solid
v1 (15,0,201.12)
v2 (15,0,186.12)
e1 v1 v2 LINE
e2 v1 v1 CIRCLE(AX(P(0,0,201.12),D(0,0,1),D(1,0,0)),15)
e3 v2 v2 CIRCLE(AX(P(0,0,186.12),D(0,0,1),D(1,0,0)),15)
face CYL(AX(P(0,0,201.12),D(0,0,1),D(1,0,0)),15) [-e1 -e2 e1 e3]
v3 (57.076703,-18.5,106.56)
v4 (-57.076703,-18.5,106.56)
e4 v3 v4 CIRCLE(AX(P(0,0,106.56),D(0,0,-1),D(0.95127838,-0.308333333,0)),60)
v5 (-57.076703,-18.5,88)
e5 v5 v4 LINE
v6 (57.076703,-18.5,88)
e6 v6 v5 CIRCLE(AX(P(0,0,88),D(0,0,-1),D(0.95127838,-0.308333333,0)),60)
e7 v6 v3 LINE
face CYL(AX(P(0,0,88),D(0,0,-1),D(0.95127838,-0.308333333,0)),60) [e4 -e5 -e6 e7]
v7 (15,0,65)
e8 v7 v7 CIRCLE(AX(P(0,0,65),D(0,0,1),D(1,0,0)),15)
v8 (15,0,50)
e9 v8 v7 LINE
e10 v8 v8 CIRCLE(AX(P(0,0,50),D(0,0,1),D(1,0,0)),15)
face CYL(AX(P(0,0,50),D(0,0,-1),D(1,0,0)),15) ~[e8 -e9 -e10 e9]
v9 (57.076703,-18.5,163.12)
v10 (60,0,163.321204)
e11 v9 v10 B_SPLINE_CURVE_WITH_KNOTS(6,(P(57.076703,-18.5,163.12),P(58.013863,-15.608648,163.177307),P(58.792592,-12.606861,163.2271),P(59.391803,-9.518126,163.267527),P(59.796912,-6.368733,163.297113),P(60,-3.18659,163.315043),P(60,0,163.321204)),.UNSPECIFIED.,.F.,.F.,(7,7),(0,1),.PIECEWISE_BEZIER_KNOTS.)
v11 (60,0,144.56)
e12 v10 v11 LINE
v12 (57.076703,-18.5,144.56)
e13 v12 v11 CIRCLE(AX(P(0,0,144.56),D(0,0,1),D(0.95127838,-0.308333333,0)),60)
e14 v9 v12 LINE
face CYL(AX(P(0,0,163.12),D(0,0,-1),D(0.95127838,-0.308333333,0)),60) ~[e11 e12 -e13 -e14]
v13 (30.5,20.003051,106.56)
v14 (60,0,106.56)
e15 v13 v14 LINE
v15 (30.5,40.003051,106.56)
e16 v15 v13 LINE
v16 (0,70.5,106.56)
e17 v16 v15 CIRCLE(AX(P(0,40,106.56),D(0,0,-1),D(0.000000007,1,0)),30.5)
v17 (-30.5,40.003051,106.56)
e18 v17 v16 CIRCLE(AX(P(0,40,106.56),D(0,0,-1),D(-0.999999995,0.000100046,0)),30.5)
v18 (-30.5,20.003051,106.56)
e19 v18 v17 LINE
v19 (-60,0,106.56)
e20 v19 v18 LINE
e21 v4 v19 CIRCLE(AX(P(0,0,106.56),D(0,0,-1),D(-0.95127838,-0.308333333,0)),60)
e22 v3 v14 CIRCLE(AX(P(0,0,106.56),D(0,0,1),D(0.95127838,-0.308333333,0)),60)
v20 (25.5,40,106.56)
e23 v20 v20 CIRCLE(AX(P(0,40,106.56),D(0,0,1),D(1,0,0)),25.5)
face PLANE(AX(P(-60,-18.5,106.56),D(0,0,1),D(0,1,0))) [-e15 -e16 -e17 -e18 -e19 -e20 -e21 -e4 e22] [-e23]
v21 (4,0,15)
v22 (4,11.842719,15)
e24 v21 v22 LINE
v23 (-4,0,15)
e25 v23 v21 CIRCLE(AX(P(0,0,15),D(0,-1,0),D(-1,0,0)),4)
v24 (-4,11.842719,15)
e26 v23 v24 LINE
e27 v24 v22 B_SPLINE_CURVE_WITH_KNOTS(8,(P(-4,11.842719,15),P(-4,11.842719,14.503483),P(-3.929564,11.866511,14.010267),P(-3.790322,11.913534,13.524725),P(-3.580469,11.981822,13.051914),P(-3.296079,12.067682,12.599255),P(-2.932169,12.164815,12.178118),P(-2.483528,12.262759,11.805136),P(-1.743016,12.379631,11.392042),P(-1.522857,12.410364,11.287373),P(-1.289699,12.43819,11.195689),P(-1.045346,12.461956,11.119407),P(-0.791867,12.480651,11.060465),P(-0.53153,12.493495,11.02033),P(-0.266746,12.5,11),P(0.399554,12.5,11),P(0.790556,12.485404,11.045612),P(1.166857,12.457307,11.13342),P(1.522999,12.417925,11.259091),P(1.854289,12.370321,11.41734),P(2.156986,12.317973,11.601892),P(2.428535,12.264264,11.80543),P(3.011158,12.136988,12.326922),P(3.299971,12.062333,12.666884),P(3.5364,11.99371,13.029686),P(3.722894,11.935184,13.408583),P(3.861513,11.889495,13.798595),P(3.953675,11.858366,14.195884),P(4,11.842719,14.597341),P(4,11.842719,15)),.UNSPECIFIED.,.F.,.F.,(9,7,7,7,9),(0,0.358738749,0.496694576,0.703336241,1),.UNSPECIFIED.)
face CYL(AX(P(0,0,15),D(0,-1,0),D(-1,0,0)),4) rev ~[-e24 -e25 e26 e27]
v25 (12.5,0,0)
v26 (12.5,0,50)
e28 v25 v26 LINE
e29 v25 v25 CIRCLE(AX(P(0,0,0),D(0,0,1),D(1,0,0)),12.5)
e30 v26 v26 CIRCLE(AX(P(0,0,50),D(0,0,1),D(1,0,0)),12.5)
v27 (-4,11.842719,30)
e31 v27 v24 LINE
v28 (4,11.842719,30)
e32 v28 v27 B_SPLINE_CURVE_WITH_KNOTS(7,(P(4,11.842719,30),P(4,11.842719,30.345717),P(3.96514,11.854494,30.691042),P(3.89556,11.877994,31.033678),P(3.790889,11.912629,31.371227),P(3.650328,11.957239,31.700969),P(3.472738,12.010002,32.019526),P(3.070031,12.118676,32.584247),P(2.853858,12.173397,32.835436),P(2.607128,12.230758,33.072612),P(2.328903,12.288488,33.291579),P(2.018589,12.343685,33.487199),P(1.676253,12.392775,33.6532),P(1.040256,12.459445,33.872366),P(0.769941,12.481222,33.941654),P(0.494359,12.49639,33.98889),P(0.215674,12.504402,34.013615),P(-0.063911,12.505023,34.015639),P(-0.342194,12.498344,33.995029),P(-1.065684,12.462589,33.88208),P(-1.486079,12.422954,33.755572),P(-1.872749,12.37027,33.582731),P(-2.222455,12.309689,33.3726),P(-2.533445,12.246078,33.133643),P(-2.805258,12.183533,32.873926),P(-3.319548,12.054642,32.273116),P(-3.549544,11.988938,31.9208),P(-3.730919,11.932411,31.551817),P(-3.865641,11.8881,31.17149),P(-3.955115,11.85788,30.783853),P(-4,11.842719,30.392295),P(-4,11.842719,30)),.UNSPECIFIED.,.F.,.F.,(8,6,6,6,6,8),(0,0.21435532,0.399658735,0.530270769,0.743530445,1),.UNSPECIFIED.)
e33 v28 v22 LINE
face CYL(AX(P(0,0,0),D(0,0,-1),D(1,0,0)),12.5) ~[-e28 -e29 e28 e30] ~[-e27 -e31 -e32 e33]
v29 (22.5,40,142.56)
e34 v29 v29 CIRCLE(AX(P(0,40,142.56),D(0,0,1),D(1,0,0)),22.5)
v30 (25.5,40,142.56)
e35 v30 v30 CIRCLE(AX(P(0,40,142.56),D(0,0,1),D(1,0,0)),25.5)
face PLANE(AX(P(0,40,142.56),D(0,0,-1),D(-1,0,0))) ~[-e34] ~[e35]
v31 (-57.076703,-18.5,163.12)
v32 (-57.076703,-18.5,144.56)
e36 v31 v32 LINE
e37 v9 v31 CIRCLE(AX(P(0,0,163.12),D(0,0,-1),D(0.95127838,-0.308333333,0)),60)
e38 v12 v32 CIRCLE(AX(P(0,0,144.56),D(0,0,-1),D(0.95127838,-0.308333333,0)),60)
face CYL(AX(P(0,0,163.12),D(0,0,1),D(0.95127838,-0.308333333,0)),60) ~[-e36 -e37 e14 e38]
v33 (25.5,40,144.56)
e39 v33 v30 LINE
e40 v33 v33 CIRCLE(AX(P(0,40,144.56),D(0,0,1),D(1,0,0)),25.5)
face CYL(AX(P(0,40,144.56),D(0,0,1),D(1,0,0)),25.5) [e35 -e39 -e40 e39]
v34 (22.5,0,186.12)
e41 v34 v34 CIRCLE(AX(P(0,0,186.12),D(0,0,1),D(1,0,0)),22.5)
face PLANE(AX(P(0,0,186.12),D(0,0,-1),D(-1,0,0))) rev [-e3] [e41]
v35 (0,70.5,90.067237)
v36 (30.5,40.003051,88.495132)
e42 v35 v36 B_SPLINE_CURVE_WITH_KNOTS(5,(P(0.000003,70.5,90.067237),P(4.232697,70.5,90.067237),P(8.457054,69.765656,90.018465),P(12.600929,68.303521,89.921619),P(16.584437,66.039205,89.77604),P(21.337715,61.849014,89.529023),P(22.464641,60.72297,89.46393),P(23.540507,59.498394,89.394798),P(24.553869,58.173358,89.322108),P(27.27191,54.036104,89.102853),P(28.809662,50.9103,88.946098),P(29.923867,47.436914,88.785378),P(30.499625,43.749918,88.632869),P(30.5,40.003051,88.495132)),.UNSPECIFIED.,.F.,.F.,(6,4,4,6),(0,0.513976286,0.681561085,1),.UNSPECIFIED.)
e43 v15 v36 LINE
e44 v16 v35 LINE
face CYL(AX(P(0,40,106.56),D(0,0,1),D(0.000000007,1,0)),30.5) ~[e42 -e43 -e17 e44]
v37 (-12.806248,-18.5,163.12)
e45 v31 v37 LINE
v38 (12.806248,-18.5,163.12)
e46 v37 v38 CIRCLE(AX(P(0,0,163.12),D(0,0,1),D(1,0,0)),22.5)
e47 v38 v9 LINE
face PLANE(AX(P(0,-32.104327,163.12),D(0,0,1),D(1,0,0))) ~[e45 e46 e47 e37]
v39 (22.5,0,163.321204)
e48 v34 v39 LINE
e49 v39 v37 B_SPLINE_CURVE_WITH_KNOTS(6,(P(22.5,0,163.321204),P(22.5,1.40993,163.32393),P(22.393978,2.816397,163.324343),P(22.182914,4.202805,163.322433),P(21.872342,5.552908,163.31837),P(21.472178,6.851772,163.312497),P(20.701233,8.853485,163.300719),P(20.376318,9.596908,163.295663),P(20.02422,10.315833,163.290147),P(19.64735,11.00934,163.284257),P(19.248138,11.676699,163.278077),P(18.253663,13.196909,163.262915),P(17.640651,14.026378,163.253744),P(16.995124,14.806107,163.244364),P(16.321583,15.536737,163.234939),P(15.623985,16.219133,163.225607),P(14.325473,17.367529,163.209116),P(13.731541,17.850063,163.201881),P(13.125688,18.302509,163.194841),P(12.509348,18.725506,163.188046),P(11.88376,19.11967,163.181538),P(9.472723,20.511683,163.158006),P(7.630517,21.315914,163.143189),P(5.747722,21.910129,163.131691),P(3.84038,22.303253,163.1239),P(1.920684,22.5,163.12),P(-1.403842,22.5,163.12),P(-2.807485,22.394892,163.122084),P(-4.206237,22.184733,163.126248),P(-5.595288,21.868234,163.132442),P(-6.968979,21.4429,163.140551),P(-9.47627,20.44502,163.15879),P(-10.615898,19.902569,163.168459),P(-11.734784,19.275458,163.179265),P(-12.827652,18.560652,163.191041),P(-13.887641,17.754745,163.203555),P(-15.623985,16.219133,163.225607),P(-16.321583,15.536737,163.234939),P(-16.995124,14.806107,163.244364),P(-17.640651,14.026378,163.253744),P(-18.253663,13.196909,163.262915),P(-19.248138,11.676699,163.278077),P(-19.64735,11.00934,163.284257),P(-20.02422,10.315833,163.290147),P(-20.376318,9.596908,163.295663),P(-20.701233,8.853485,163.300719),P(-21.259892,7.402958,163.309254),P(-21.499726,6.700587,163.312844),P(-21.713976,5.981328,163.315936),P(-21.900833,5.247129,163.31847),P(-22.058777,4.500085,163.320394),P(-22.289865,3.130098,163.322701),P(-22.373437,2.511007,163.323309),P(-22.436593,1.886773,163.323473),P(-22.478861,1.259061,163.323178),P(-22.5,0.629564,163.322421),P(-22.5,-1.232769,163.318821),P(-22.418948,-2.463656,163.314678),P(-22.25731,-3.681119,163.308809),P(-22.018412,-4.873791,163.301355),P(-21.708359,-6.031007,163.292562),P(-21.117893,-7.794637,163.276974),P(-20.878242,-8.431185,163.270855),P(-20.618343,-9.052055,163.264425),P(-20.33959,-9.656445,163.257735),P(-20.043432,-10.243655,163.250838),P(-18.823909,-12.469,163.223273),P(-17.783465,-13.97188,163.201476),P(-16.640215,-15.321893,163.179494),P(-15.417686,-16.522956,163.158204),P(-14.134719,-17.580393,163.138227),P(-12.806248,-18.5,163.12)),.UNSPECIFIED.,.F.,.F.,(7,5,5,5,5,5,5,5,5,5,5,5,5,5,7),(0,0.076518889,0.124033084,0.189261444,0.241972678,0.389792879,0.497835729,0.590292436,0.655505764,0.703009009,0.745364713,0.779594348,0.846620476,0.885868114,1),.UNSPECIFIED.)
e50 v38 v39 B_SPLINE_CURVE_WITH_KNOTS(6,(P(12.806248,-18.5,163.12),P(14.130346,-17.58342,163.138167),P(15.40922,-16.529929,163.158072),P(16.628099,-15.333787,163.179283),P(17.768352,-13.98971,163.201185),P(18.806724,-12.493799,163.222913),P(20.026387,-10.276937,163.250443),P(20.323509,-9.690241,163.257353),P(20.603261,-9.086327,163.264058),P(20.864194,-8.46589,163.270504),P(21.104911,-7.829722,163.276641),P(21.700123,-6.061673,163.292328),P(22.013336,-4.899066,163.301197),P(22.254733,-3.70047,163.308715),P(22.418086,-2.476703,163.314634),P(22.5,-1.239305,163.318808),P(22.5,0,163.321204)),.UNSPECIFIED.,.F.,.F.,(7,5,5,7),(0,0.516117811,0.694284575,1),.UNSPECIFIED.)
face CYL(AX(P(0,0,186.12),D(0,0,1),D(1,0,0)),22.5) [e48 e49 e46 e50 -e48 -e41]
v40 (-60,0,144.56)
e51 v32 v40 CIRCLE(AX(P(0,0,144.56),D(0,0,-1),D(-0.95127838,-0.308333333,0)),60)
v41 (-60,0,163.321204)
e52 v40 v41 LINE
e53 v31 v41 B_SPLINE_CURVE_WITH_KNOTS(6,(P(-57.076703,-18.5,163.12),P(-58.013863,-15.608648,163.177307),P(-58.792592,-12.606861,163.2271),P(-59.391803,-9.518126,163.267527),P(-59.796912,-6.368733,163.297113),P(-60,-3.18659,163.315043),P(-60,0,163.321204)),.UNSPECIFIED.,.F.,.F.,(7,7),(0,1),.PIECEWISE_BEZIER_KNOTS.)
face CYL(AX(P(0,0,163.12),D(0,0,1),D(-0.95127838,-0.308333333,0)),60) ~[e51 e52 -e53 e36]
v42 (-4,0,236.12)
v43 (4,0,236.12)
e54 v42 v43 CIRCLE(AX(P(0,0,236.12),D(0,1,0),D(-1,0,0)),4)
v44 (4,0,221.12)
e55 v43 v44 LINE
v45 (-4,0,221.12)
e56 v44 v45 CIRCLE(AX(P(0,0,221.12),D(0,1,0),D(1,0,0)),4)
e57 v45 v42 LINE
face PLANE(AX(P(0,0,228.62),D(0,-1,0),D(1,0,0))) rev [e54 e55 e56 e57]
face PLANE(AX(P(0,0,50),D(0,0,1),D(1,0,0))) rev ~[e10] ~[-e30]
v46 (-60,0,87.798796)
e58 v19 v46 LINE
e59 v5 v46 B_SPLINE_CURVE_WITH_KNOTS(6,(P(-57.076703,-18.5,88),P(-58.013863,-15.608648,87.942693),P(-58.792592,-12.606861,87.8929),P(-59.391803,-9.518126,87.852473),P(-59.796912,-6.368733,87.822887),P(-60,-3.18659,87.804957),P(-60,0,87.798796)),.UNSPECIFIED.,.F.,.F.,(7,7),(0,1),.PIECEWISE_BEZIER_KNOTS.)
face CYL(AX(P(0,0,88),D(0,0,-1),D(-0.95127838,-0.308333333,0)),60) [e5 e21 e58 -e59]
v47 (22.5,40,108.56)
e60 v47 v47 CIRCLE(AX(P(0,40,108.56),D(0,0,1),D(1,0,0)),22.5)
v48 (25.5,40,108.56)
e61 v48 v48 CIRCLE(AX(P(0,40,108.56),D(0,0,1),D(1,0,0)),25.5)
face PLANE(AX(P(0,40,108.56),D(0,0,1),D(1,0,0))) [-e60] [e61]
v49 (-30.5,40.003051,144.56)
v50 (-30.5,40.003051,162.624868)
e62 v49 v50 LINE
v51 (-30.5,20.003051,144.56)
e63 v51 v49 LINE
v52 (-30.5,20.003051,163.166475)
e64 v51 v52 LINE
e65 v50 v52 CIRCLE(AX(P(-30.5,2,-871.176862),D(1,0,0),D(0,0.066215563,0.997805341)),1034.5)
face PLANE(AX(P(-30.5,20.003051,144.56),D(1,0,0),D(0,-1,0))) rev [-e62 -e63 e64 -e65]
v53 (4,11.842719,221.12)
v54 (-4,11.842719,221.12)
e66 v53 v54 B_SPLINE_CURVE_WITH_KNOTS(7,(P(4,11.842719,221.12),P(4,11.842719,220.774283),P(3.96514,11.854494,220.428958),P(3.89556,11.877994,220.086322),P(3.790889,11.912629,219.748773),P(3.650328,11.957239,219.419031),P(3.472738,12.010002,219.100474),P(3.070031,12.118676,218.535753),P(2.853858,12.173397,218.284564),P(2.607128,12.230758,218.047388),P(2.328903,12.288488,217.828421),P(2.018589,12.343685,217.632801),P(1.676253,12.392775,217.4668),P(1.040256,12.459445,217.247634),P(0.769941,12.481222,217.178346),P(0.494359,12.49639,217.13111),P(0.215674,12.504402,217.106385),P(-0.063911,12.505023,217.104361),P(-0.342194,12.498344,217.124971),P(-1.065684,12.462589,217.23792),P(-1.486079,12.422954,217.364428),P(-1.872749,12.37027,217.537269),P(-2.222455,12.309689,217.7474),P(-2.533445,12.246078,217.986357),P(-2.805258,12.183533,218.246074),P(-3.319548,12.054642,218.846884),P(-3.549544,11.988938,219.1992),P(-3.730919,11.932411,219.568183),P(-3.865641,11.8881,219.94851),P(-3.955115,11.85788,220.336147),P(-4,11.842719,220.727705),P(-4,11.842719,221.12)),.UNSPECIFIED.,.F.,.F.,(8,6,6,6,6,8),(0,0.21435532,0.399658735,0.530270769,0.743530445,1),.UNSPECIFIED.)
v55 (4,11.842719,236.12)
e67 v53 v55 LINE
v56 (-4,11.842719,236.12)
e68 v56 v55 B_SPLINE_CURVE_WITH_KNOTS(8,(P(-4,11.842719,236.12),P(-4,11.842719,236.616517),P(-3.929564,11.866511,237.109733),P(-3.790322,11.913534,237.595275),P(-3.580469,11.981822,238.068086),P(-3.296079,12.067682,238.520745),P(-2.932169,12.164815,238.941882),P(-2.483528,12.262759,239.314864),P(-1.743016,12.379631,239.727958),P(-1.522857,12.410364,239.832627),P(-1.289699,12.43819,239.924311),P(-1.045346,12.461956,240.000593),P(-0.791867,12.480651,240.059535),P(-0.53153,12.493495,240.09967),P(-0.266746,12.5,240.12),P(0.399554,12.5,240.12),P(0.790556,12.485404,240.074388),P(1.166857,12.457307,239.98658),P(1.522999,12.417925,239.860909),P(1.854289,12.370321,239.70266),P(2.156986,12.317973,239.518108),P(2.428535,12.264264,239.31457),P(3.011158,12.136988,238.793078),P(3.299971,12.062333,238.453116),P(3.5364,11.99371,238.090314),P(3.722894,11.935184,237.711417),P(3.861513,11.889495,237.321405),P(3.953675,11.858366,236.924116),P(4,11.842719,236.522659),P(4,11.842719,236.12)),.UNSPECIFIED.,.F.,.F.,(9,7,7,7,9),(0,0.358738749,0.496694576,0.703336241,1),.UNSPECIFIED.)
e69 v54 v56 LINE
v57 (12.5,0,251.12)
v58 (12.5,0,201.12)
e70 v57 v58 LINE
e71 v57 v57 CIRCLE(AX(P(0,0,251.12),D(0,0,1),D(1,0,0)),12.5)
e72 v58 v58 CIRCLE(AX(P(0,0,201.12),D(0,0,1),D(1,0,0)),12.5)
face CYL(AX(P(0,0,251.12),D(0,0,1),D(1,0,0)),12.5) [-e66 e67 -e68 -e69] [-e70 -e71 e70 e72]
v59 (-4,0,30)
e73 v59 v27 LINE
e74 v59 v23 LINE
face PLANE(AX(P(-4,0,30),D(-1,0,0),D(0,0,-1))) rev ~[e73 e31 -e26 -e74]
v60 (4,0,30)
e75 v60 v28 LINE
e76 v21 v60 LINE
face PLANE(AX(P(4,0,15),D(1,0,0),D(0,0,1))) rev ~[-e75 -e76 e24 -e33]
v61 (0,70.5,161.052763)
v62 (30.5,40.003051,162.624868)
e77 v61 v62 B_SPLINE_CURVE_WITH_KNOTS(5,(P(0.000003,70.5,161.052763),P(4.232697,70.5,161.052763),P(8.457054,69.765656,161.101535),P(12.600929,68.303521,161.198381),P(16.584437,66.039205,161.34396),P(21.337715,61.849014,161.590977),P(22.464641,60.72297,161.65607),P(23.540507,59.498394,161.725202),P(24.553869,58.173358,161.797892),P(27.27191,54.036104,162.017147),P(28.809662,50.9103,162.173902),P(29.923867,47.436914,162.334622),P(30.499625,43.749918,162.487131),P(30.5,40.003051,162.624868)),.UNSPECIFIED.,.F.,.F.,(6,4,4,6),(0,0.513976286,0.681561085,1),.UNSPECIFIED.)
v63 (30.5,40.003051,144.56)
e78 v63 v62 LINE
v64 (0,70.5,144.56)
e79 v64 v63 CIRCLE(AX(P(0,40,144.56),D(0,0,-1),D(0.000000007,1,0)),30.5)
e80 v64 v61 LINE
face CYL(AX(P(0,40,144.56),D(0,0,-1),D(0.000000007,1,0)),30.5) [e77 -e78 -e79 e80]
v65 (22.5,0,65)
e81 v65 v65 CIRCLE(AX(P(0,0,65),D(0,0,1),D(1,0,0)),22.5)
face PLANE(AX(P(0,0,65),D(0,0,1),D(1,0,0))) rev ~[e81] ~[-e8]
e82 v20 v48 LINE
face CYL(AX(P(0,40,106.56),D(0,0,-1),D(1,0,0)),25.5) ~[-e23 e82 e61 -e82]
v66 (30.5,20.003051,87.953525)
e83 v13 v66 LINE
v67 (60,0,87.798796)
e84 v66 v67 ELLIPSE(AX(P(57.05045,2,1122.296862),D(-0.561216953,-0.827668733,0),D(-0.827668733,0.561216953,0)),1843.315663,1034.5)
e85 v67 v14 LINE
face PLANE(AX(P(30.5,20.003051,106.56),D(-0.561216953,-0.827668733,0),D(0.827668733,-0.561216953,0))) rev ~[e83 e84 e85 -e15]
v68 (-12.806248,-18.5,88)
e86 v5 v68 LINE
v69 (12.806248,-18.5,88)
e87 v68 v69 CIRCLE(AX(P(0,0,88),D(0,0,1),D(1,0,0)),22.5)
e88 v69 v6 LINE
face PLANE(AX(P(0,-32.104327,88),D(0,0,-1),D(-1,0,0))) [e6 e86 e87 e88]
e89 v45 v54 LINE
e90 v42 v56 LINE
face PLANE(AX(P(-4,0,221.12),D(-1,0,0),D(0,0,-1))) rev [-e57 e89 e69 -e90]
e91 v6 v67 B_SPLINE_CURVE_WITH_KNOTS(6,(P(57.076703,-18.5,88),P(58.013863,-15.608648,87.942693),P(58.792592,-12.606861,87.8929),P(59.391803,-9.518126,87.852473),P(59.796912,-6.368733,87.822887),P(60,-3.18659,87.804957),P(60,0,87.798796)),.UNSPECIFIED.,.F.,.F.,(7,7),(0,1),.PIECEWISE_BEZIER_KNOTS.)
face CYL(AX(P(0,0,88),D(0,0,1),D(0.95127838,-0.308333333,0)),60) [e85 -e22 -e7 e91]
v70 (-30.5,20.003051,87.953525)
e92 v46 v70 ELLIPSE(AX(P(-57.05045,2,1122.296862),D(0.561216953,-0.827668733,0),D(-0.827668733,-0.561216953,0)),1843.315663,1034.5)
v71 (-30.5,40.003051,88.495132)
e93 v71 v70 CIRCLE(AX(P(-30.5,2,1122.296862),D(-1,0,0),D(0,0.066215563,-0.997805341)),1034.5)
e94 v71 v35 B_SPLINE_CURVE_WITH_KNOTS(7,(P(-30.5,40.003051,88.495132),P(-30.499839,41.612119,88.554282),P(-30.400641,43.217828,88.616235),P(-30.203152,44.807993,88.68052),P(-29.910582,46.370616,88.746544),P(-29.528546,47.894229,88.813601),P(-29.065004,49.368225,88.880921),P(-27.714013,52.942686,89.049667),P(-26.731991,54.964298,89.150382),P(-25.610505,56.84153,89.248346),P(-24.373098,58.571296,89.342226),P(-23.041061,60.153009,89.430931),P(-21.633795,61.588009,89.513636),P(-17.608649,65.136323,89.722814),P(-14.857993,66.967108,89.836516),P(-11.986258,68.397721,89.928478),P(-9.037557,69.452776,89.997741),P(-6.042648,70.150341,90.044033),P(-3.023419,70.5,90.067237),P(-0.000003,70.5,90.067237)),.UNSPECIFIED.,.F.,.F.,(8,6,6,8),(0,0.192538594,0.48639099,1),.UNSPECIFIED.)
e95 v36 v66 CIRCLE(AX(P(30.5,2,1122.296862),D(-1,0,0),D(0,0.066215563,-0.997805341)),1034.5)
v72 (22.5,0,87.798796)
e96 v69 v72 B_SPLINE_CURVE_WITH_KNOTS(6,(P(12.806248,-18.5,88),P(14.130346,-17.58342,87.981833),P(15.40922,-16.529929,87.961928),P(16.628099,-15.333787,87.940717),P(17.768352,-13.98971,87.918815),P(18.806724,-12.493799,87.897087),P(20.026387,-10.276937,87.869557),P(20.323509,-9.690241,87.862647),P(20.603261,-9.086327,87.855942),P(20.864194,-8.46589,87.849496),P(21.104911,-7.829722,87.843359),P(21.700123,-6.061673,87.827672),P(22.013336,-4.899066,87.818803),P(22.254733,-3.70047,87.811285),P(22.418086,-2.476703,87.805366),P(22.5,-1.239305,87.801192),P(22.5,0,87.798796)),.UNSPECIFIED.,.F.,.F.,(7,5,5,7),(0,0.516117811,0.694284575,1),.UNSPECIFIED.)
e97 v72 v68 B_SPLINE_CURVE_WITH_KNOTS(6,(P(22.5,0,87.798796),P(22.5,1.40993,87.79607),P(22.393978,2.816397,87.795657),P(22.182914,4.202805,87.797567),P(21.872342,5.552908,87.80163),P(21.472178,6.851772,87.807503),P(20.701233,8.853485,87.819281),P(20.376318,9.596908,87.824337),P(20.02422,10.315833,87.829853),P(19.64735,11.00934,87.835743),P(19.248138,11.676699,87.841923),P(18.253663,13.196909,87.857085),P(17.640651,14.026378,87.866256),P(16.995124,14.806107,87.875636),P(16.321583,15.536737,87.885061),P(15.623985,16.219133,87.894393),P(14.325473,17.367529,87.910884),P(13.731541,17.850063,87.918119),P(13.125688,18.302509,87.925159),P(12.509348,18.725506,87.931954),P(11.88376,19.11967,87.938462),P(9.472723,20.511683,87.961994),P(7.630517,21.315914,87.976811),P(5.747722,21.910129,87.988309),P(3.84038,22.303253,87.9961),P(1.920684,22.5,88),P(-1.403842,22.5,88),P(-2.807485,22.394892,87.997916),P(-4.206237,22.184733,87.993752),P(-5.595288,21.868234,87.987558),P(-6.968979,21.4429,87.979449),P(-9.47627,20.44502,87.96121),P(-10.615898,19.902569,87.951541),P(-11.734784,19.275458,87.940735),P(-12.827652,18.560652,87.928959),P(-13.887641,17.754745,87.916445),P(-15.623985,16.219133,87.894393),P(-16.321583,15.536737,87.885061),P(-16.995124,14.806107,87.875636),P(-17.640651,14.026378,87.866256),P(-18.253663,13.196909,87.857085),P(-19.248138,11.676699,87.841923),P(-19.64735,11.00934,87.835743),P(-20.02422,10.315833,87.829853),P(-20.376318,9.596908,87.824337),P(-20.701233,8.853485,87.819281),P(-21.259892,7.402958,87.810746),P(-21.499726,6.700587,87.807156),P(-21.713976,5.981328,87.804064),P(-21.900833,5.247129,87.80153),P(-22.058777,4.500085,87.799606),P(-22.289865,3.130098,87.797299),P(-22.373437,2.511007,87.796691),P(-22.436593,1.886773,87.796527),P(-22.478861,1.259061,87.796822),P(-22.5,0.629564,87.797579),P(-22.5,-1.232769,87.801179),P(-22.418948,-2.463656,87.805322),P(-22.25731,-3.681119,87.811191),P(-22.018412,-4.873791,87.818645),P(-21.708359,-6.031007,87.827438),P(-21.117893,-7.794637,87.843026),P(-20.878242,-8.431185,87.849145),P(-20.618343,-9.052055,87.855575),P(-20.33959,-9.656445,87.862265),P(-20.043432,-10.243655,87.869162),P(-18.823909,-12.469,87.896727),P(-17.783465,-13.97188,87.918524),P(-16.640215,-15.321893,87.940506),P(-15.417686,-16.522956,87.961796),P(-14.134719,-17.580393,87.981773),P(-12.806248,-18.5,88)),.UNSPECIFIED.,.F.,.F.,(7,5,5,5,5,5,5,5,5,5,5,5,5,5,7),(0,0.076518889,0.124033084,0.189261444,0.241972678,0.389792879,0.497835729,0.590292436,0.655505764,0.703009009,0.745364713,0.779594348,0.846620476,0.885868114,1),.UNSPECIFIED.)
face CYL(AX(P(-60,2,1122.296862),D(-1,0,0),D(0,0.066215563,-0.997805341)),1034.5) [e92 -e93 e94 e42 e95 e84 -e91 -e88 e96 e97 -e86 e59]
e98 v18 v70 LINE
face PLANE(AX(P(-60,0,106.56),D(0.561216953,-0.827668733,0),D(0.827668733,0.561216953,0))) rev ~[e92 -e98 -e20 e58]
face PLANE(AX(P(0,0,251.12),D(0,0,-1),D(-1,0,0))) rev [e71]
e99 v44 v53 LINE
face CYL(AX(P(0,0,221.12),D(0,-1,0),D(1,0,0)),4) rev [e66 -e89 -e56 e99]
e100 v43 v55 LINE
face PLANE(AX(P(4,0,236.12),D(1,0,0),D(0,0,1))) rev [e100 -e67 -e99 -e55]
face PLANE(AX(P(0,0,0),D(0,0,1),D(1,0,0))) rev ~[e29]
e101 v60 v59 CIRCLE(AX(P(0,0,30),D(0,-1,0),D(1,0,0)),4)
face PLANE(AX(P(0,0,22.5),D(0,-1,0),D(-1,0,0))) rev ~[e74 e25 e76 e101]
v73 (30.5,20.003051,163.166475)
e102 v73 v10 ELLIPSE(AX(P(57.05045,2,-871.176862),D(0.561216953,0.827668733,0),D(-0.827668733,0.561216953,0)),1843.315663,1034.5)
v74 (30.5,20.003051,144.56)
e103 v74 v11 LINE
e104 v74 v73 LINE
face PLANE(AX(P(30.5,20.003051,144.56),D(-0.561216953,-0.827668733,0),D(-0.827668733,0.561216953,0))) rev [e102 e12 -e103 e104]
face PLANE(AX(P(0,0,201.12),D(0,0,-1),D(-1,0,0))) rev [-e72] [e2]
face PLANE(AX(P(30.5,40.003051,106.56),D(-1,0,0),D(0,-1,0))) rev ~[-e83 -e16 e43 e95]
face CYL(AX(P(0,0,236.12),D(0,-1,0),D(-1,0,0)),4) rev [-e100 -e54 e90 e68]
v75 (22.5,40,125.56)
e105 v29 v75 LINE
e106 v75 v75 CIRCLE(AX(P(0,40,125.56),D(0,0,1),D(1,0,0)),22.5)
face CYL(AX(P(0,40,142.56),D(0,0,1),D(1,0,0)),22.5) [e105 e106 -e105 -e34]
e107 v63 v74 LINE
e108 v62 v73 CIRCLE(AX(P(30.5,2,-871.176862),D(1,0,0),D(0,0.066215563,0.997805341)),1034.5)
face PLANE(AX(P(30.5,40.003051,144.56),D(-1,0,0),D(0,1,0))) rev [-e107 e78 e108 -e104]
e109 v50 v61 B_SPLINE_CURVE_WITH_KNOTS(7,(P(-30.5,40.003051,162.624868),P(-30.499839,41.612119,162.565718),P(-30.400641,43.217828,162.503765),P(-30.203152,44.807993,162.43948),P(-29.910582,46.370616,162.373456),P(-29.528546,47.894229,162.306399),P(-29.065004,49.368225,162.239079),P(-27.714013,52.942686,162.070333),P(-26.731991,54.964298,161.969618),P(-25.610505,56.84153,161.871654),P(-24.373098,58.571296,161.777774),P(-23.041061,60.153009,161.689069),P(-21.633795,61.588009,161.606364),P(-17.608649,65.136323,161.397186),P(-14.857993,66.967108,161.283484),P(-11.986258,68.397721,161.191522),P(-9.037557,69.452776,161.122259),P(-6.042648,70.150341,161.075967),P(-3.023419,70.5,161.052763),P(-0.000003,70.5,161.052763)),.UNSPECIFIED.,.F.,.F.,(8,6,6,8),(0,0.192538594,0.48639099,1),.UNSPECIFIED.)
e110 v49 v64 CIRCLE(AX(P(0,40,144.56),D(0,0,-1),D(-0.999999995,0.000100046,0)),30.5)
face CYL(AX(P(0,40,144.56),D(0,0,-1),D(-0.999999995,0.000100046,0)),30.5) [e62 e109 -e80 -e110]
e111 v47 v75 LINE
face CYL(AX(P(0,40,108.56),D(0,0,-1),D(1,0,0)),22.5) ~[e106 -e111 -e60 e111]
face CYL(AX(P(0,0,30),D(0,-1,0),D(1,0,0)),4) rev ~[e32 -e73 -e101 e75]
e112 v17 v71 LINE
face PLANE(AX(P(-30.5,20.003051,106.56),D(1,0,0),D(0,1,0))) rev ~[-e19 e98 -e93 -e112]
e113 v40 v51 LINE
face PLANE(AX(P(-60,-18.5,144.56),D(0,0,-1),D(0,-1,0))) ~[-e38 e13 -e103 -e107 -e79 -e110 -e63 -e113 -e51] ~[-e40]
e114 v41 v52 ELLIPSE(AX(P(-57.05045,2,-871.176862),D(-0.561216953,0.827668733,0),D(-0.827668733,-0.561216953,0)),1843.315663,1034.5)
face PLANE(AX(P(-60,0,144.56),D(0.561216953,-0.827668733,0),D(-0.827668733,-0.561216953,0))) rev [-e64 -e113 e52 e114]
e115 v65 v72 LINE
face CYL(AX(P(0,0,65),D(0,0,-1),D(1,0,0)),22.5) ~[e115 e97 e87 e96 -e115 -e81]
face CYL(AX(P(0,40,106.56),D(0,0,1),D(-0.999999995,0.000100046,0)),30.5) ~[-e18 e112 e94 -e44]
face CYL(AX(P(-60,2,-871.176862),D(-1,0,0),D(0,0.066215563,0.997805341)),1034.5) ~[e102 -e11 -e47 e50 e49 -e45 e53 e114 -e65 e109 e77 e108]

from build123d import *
from build123d.topology import SkipClean

# Parameters (mm, degrees)
SKETCH1_R                = 12.5
BOSS_EXTRUDE1_DEPTH      = 50
SKETCH2_R                = 15
BOSS_EXTRUDE2_DEPTH      = 15
SKETCH3_R                = 22.5
BOSS_EXTRUDE3_DEPTH      = 23
BOSS_EXTRUDE4_DEPTH      = 18.56
BOSS_EXTRUDE5_DEPTH      = 60
BOSS_EXTRUDE5_DEPTH_BACK = 60
CUT_EXTRUDE1_DEPTH       = 29.78
CUT_EXTRUDE2_DEPTH       = 59.56
SKETCH9_R                = 25.5
BOSS_EXTRUDE7_DEPTH      = 2
SKETCH10_R               = 22.5
BOSS_EXTRUDE8_DEPTH      = 17
CUT_EXTRUDE3_DEPTH       = 17


with BuildPart() as part:
    # Sketch1 → Boss-Extrude1 (new body)
    with BuildSketch(Plane.XY):
        Circle(SKETCH1_R)
    extrude(amount=BOSS_EXTRUDE1_DEPTH)

    # Sketch2 → Boss-Extrude2 (add)
    with BuildSketch(Plane.XY.offset(50)):
        Circle(SKETCH2_R)
    extrude(amount=BOSS_EXTRUDE2_DEPTH)

    # Sketch3 → Boss-Extrude3 (add)
    with BuildSketch(Plane.XY.offset(65)):
        Circle(SKETCH3_R)
    extrude(amount=BOSS_EXTRUDE3_DEPTH)

    # Sketch4 → Boss-Extrude4 (add)
    with BuildSketch(Plane.XY.offset(88)):
        with BuildLine():
            Line((-57.076702778, -18.5), (57.076702778, -18.5))
            ThreePointArc((57.076702778, -18.5), (0, -60), (-57.076702778, -18.5))
        make_face()
    extrude(amount=BOSS_EXTRUDE4_DEPTH)

    # Sketch5 → Boss-Extrude5 (add, two sides: drawn at the far end of the back side and taken through both)
    with BuildSketch(Plane(origin=(0, 0, 0), x_dir=(0, 0, -1), z_dir=(1, 0, 0)).offset(-BOSS_EXTRUDE5_DEPTH_BACK)):
        with BuildLine():
            Line((-106.56, -18.5), (-106.56, 70.5))
            Line((-106.56, 70.5), (-90.067236991, 70.5))
            ThreePointArc((-90.067236991, 70.5), (-88.075811945, 26.022247339), (-88, -18.5))
            Line((-88, -18.5), (-106.56, -18.5))
        make_face()
    extrude(amount=BOSS_EXTRUDE5_DEPTH + BOSS_EXTRUDE5_DEPTH_BACK)

    # Sketch7 → Cut-Extrude1 (cut, symmetric)
    with SkipClean():  # the faces are left unmerged after this step: merging them gives an invalid solid
        with BuildSketch(Plane(origin=(0, 0, 88), x_dir=(-1, 0, 0), z_dir=(0, 0, -1))):
            with BuildLine():
                Line((-60, 0), (-60, -18.5))
                Line((-60, -18.5), (-57.076702778, -18.5))
                ThreePointArc((-57.076702778, -18.5), (-59.264669773, -9.364769974), (-60, 0))
            make_face()
            with BuildLine():
                Line((60, 0), (60, -18.5))
                Line((60, -18.5), (57.076702778, -18.5))
                ThreePointArc((57.076702778, -18.5), (59.264669773, -9.364769974), (60, 0))
            make_face()
        extrude(amount=CUT_EXTRUDE1_DEPTH, both=True, mode=Mode.SUBTRACT)

    # Sketch8 → Cut-Extrude2 (cut)
    with SkipClean():  # the faces are left unmerged after this step: merging them gives an invalid solid
        with BuildSketch(Plane.XY.offset(106.56)):
            with BuildLine():
                Line((60, 70.5), (2.15e-07, 70.5))
                ThreePointArc((2.15e-07, 70.5), (21.565678046, 61.567835553), (30.499999847, 40.003051391))
                Line((30.499999847, 40.003051391), (30.499999847, 20.003051391))
                Line((30.499999847, 20.003051391), (60, 0))
                Line((60, 0), (60, 70.5))
            make_face()
            with BuildLine():
                Line((-60, 70.5), (-60, 0))
                Line((-60, 0), (-30.499999847, 20.003051391))
                Line((-30.499999847, 20.003051391), (-30.499999847, 40.003051391))
                ThreePointArc((-30.499999847, 40.003051391), (-21.565677894, 61.567835705), (2.15e-07, 70.5))
                Line((2.15e-07, 70.5), (-60, 70.5))
            make_face()
        extrude(amount=-CUT_EXTRUDE2_DEPTH, mode=Mode.SUBTRACT)

    # Sketch9 → Boss-Extrude7 (add)
    with SkipClean():  # the faces are left unmerged after this step: merging them gives an invalid solid
        with BuildSketch(Plane.XY.offset(106.56)):
            with Locations((0, 40)):
                Circle(SKETCH9_R)
        extrude(amount=BOSS_EXTRUDE7_DEPTH)

    # Sketch10 → Boss-Extrude8 (add)
    with SkipClean():  # the faces are left unmerged after this step: merging them gives an invalid solid
        with BuildSketch(Plane.XY.offset(108.56)):
            with Locations((0, 40)):
                Circle(SKETCH10_R)
        extrude(amount=BOSS_EXTRUDE8_DEPTH)

    # Sketch11 → Cut-Extrude3 (cut)
    with SkipClean():  # the faces are left unmerged after this step: merging them gives an invalid solid
        with BuildSketch(Plane(origin=(0, 0, 0), x_dir=(1, 0, 0), z_dir=(0, 1, 0))):
            with BuildLine():
                Line((4, -15), (4, -30))
                ThreePointArc((4, -30), (0, -34), (-4, -30))
                Line((-4, -30), (-4, -15))
                ThreePointArc((-4, -15), (0, -11), (4, -15))
            make_face()
        extrude(amount=CUT_EXTRUDE3_DEPTH, mode=Mode.SUBTRACT)

    # Mirror1: part across plane


with BuildPart() as part_1:
    with SkipClean():  # the faces are left unmerged after this step: merging them gives an invalid solid
        add(part.part)
        add(part.part.mirror(Plane(origin=(0, 40, 125.56), x_dir=(1, 0, 0), z_dir=(0, 0, 1))))


solid = part_1.part
